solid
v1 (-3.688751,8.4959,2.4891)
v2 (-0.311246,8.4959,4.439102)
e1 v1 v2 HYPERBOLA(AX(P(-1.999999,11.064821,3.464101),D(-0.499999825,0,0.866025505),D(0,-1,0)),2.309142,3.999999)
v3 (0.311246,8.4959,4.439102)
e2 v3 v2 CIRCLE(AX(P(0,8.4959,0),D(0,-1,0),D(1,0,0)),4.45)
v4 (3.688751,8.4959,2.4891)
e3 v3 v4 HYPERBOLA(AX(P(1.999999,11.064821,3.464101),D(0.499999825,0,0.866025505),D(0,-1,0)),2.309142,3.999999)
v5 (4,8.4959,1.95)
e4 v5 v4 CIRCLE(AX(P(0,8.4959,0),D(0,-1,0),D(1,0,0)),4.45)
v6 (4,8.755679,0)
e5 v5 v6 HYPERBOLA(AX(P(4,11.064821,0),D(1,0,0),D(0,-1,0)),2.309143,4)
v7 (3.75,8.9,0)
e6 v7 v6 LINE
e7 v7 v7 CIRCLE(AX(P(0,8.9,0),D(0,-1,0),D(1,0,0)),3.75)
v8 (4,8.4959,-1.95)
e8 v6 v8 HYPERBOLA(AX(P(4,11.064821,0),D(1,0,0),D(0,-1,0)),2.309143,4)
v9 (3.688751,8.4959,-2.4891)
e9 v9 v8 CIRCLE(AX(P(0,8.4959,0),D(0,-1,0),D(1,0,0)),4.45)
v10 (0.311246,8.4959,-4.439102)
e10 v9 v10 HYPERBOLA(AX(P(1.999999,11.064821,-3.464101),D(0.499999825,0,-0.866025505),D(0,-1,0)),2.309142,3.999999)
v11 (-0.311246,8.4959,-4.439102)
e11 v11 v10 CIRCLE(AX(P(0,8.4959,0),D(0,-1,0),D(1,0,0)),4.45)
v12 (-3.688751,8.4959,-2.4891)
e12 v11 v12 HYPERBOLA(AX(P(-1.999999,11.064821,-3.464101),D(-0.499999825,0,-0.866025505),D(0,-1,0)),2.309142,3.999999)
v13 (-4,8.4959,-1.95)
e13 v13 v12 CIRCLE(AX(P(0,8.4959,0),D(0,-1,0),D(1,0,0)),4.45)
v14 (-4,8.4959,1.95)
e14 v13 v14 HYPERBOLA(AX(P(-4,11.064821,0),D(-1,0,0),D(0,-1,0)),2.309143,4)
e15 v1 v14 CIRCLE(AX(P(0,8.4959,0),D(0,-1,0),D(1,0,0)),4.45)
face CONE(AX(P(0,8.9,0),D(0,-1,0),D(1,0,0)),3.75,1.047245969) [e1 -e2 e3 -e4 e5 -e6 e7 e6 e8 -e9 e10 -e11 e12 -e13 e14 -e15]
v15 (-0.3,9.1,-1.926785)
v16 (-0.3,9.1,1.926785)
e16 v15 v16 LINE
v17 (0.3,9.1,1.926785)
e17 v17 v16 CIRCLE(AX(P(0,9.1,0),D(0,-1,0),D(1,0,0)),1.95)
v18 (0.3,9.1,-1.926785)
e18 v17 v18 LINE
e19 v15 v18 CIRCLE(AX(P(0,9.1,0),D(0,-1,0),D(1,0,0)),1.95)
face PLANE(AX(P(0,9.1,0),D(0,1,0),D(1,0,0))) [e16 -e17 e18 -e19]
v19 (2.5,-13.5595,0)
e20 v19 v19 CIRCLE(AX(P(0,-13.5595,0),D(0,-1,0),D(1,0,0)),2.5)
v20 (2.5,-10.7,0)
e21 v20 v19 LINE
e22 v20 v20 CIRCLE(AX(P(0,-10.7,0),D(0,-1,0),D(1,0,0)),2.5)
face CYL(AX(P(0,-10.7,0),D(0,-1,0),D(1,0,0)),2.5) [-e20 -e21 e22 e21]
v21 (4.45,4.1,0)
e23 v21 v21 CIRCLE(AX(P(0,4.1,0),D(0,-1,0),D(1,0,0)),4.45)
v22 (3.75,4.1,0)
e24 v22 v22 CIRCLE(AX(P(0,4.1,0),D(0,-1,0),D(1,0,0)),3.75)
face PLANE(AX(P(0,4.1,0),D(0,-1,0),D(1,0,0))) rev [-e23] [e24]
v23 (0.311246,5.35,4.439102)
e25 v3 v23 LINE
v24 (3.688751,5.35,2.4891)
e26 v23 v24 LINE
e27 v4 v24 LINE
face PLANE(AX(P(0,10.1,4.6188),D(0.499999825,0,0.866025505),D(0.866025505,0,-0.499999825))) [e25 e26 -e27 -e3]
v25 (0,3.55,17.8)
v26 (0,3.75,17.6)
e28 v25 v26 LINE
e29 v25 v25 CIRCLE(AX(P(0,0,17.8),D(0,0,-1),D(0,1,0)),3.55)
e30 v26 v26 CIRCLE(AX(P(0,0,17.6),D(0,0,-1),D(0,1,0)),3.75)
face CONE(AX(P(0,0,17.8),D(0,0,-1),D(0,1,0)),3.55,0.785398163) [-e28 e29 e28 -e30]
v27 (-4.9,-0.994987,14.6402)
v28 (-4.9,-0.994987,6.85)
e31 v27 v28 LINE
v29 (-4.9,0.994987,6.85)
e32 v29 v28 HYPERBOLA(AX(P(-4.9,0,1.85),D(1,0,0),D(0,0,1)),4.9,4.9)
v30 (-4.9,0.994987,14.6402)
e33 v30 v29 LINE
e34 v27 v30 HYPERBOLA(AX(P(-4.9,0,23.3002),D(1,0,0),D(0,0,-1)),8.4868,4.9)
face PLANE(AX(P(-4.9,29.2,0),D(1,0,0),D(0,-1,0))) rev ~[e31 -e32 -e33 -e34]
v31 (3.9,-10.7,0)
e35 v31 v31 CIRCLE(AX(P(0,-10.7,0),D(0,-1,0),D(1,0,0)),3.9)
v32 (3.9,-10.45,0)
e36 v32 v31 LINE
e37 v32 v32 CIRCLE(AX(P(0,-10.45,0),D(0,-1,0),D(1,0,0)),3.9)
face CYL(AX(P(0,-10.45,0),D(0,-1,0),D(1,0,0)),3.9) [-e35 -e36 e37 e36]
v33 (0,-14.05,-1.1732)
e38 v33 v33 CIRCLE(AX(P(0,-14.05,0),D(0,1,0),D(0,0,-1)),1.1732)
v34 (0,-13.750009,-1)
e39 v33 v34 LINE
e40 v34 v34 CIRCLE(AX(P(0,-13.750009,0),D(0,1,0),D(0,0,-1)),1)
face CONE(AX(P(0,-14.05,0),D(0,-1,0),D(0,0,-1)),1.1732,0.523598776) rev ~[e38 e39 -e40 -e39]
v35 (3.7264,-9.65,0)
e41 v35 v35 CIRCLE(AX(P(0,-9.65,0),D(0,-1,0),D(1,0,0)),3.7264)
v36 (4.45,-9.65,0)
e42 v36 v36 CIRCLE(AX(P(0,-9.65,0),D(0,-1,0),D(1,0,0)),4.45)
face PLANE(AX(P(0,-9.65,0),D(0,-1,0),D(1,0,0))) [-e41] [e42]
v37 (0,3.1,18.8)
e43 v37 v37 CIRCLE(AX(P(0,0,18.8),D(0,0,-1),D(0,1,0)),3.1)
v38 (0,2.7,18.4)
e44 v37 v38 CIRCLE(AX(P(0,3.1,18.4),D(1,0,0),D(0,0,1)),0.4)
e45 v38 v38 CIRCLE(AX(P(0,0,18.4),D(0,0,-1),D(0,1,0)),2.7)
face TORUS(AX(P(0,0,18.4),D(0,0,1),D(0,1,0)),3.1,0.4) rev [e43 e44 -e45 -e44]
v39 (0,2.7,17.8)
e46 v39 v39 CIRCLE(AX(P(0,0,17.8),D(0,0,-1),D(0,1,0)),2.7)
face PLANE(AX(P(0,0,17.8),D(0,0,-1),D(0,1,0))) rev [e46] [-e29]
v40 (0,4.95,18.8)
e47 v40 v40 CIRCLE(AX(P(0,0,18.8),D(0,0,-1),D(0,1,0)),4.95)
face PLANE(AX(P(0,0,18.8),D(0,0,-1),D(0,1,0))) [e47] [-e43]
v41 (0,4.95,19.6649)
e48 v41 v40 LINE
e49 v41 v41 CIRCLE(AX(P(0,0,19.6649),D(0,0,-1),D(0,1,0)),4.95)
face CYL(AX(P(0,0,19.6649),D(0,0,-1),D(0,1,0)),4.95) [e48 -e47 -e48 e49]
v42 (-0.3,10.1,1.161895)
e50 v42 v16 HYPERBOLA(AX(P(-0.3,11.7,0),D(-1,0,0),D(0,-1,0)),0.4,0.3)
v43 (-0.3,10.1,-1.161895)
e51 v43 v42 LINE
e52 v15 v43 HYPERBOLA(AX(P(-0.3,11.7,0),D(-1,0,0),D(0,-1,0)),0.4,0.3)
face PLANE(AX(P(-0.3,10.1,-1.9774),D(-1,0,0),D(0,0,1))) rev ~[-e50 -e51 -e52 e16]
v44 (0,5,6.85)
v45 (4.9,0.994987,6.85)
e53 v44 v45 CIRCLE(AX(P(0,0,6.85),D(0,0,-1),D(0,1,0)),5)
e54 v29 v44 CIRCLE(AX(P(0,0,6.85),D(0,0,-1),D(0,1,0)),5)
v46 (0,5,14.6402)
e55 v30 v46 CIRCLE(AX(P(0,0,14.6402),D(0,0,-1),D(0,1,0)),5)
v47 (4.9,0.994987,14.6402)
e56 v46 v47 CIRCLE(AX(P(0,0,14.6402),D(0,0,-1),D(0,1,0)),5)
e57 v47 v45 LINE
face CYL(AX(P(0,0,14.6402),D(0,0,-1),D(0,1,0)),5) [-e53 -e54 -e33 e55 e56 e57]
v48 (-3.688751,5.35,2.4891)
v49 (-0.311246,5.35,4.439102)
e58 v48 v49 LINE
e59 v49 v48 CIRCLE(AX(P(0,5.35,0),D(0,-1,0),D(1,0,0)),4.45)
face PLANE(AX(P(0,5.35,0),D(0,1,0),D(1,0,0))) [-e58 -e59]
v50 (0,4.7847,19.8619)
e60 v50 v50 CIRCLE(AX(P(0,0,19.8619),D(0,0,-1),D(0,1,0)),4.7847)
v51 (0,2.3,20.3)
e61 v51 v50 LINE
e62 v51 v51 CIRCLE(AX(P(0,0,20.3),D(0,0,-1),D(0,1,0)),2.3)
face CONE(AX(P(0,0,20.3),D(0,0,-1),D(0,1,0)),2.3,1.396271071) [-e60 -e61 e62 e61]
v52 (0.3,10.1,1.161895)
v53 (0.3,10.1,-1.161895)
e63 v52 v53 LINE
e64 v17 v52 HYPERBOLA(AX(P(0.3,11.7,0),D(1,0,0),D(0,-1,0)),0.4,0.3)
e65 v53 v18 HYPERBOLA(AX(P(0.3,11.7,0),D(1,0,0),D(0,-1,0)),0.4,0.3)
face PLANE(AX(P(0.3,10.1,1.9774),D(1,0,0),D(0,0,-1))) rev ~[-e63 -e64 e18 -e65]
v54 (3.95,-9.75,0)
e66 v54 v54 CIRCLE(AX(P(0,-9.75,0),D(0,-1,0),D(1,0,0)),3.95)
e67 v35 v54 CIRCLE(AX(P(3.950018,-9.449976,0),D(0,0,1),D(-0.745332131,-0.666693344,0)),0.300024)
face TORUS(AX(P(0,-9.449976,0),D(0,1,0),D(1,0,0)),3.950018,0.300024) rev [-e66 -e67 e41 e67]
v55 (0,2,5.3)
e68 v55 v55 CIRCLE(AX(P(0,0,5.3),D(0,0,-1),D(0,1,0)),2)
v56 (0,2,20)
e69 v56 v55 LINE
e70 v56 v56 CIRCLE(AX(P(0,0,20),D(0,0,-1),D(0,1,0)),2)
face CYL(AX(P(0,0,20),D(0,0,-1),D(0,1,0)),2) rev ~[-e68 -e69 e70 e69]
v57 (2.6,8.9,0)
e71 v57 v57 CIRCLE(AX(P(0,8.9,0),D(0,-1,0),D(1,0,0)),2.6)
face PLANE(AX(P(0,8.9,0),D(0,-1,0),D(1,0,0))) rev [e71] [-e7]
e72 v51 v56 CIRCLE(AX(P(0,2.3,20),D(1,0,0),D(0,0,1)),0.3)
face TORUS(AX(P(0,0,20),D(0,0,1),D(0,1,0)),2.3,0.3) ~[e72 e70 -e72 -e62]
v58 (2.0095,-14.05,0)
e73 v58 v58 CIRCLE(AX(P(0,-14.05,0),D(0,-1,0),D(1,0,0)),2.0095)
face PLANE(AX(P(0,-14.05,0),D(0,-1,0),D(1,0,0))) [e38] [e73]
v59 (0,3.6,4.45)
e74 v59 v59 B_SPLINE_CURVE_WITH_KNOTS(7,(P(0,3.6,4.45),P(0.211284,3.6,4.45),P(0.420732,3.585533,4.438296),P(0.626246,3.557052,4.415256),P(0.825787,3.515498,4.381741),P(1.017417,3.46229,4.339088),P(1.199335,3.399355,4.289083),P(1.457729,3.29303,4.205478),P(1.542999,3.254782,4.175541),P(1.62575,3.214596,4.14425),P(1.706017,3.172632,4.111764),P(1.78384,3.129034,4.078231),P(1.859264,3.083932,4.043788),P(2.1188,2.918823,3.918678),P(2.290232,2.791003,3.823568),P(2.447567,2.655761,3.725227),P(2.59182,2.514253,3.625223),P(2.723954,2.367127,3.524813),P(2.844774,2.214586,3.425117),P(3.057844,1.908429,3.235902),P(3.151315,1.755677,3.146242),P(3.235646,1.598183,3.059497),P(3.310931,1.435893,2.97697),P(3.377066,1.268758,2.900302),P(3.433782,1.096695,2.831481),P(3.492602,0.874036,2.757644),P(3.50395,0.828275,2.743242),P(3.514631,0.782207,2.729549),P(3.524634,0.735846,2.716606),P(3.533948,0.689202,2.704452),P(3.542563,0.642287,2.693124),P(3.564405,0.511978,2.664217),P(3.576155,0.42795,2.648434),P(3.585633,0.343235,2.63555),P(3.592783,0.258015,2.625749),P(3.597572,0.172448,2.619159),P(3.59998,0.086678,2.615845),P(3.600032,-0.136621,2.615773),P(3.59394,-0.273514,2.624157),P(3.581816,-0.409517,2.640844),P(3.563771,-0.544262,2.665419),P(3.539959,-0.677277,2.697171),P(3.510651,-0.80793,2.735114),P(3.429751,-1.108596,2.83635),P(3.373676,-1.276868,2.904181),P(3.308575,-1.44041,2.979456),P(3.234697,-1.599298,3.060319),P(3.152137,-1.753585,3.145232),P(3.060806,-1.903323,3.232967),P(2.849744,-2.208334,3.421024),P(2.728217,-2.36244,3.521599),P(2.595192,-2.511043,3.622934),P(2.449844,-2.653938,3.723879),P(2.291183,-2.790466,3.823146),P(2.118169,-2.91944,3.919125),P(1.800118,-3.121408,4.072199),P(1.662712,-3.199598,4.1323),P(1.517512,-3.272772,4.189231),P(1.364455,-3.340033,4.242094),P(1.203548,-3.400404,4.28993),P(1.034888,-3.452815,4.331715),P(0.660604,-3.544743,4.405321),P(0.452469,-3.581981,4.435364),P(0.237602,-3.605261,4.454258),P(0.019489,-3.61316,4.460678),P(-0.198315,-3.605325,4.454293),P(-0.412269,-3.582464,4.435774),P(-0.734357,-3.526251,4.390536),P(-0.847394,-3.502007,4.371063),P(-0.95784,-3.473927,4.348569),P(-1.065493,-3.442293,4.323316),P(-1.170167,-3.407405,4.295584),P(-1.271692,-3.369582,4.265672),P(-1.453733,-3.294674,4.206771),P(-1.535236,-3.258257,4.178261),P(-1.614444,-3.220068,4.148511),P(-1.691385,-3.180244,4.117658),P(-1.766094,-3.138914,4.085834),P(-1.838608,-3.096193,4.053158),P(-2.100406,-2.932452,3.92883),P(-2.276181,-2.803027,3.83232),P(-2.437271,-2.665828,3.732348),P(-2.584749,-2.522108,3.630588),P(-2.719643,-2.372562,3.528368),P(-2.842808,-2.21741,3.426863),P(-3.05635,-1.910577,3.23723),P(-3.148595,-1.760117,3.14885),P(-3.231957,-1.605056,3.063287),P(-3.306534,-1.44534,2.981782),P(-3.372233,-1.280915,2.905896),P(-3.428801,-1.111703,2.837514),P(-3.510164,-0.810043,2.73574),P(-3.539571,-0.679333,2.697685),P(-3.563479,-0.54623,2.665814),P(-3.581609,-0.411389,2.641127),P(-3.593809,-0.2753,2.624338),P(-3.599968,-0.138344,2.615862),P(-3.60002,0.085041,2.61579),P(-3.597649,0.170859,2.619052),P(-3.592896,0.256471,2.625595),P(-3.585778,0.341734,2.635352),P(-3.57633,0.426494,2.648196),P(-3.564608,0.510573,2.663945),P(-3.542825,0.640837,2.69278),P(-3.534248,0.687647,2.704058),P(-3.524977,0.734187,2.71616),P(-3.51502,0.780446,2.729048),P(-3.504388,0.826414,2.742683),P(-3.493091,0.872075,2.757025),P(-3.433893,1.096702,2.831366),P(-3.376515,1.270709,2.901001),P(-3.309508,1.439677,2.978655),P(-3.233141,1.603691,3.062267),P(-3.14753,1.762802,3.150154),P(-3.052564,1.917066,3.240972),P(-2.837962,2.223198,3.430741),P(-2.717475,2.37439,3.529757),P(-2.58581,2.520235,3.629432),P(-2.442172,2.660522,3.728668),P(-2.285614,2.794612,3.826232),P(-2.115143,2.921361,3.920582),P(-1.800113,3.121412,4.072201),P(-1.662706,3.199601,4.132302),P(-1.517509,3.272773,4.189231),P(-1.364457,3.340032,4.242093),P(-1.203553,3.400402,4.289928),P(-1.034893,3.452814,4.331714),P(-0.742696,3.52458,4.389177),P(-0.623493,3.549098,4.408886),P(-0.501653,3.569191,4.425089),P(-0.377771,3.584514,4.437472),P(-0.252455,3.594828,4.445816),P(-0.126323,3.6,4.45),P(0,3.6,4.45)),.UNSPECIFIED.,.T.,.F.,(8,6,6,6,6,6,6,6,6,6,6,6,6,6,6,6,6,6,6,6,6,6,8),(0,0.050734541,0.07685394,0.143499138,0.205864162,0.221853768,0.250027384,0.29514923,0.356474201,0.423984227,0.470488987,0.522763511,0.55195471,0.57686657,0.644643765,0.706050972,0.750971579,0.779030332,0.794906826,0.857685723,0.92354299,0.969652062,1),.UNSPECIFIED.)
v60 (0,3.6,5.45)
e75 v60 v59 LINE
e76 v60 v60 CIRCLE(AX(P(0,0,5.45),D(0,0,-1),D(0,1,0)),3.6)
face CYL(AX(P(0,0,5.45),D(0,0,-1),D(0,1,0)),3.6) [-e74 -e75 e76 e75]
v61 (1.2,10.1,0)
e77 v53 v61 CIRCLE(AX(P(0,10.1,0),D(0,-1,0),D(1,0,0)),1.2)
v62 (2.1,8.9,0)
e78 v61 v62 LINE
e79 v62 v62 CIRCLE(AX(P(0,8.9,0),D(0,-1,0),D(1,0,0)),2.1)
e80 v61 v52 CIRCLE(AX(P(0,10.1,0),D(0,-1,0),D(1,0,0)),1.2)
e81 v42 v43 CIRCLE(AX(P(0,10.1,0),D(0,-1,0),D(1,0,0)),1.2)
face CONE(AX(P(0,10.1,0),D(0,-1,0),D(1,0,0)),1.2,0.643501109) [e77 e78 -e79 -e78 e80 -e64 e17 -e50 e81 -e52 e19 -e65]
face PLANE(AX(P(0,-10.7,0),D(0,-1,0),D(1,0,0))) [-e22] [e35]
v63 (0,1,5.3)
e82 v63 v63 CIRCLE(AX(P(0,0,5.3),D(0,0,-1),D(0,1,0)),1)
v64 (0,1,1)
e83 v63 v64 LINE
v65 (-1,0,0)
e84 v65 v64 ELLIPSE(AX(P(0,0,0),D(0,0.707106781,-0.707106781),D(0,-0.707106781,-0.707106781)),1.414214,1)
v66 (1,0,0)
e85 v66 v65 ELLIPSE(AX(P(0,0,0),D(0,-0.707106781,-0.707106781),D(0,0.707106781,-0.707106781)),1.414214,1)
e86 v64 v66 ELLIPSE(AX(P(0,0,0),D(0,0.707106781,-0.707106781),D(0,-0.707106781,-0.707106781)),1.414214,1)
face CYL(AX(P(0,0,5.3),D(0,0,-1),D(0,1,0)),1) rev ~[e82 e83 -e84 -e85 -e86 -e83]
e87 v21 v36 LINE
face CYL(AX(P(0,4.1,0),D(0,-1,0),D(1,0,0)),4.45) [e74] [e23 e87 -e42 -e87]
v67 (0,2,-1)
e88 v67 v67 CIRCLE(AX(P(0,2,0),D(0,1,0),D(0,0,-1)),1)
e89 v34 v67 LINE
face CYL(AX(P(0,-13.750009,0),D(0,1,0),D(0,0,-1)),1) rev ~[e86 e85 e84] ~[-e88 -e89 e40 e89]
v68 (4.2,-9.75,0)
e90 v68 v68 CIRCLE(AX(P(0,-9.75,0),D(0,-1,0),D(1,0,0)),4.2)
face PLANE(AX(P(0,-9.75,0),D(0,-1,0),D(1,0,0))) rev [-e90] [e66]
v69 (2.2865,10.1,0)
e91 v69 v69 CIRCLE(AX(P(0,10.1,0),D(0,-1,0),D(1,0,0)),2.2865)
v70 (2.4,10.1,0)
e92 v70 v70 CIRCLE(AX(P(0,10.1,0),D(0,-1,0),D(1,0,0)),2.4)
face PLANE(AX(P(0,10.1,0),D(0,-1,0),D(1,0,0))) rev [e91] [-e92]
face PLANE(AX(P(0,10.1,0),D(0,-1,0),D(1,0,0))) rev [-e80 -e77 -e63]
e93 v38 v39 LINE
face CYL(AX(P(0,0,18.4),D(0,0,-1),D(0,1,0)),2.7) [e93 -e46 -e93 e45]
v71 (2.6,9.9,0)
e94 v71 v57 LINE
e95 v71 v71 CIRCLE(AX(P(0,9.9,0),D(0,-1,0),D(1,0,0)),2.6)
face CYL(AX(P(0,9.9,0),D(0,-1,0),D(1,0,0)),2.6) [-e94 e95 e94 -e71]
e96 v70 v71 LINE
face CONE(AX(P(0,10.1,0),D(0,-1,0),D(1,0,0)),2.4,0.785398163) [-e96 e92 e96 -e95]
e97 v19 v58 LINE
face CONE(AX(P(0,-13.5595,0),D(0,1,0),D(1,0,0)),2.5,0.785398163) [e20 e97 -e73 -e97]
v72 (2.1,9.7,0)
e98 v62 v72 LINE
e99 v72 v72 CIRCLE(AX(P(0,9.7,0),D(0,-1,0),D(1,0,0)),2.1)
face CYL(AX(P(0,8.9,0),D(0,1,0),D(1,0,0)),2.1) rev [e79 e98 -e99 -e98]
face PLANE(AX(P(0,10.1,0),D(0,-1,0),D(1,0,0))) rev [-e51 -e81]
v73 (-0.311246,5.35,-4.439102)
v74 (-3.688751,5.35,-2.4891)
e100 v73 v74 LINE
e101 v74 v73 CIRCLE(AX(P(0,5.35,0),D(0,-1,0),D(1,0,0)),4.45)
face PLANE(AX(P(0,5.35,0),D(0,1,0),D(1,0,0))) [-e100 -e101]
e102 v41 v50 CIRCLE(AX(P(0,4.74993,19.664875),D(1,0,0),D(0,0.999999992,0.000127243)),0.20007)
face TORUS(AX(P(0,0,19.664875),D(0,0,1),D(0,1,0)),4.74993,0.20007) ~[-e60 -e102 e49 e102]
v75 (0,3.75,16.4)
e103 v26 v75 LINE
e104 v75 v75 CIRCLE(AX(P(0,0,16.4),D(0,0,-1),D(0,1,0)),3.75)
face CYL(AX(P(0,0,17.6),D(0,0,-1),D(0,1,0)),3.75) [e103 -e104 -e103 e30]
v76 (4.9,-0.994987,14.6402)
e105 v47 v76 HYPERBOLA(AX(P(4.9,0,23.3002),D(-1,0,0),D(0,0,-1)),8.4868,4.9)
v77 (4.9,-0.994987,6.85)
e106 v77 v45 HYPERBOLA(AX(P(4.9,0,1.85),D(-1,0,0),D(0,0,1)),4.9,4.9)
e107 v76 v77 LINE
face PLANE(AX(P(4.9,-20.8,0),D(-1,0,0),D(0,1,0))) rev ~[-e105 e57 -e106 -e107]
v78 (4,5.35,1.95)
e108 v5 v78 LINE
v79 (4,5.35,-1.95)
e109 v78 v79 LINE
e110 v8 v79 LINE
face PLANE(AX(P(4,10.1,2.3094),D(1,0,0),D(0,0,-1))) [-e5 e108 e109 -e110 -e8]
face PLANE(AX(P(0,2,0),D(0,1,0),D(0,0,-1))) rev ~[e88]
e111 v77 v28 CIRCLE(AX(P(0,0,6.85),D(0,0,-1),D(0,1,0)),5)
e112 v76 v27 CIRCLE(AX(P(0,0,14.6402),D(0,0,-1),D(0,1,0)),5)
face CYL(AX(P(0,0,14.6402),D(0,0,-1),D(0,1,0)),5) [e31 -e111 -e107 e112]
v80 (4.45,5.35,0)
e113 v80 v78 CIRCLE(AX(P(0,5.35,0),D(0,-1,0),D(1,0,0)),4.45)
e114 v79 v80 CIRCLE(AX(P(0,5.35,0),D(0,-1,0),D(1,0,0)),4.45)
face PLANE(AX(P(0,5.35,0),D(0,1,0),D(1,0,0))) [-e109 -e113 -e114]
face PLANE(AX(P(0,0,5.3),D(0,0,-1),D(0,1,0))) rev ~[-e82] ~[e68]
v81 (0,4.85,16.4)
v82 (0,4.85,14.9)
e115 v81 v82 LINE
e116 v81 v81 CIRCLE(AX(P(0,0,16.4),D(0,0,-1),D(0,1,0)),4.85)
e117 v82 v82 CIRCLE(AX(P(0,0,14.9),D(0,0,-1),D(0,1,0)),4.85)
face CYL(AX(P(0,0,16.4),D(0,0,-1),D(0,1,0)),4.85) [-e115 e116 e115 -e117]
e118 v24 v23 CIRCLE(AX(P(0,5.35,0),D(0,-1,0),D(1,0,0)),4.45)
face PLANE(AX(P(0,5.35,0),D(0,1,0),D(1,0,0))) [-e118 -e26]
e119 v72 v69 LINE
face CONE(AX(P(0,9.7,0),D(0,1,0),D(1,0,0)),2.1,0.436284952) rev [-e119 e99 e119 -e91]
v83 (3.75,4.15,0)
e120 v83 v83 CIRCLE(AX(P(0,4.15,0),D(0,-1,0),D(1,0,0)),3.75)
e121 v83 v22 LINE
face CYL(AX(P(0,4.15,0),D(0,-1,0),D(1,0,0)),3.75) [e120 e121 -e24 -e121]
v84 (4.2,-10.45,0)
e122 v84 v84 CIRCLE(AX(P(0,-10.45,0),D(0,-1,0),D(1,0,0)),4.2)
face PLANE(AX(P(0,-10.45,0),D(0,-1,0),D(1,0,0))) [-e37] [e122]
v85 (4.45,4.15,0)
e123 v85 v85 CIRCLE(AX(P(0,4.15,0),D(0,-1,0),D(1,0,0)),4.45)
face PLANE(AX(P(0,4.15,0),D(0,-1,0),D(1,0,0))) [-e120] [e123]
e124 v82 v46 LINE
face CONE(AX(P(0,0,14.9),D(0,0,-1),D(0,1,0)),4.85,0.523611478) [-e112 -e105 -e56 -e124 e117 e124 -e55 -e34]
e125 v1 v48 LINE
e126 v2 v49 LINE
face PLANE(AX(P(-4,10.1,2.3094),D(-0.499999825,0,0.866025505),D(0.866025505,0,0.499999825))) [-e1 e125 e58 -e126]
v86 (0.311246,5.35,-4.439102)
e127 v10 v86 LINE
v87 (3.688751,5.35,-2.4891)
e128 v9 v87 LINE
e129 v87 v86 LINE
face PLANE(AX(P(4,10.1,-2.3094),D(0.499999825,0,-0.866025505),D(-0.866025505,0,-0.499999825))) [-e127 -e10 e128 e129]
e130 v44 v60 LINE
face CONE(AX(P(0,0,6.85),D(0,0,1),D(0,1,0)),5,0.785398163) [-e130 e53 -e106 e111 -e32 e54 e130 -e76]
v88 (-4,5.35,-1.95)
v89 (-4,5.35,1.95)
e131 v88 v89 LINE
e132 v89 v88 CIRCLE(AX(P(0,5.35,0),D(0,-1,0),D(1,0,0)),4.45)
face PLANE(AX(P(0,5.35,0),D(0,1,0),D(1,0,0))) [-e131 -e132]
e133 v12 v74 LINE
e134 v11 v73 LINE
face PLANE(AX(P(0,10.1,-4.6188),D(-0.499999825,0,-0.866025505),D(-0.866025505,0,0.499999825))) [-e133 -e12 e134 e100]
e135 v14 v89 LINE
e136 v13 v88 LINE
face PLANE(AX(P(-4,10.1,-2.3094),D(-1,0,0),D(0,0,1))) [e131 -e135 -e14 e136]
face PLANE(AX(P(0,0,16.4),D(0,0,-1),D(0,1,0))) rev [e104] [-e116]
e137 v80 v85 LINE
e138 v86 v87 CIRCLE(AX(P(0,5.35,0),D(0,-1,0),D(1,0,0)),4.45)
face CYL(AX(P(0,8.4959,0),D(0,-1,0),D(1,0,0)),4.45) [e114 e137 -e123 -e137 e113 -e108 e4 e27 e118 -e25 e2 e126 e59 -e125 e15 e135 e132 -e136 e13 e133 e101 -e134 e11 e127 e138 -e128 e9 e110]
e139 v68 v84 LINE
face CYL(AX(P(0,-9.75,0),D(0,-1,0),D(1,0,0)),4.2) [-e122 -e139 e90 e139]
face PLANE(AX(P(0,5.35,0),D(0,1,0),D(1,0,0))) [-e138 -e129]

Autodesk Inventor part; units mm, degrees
sketch "Sketch_6" plane through (0, 0, 0) normal (0, 0, 1) x (1, 0, 0)
  line L0 (0, -14.05) -> (0, 10.1)
  line L1 (0, 10.1) -> (1.2, 10.1)
  line L2 (1.2, 10.1) -> (2.1, 8.9)
  line L3 (2.1, 8.9) -> (2.1, 9.7)
  line L4 (2.1, 9.7) -> (2.2865, 10.1)
  line L5 (2.2865, 10.1) -> (2.4, 10.1)
  line L6 (2.4, 10.1) -> (2.6, 9.9)
  line L7 (2.6, 9.9) -> (2.6, 8.9)
  line L8 (2.6, 8.9) -> (3.75, 8.9)
  line L9 (3.75, 8.9) -> (4.45, 8.4959)
  line L10 (4.45, 8.4959) -> (4.45, 4.15)
  line L11 (4.45, 4.15) -> (3.75, 4.15)
  line L12 (3.75, 4.15) -> (3.75, 4.1)
  line L13 (3.75, 4.1) -> (4.45, 4.1)
  line L14 (4.45, 4.1) -> (4.45, -9.65)
  line L15 (4.45, -9.65) -> (3.7264, -9.65)
  arc A0 (3.7264, -9.65) -> (3.95, -9.75) centre (3.95, -9.45) ccw
  line L16 (3.95, -9.75) -> (4.2, -9.75)
  line L17 (4.2, -9.75) -> (4.2, -10.45)
  line L18 (4.2, -10.45) -> (3.9, -10.45)
  line L19 (3.9, -10.45) -> (3.9, -10.7)
  line L20 (3.9, -10.7) -> (2.5, -10.7)
  line L21 (2.5, -10.7) -> (2.5, -13.5595)
  line L22 (2.5, -13.5595) -> (2.0095, -14.05)
  line L23 (2.0095, -14.05) -> (0, -14.05)
  line L24 (0, -14.05) -> (0, 10.1)
revolve "Revolution1" add sketch "Sketch_6" angle 360 about axis through (0, -14.05, 0) along (0, -1, 0)
thread "Thread1" size "M5x0.8" class "6g" standard "ISO Metric profile" full length
sketch "Sketch_8" plane through (0, 10.1, 0) normal (0, 1, 0) x (1, 0, 0)
  line L0 (-0.3, 1.9774) -> (-0.3, -1.9774)
  arc A0 (-0.3, -1.9774) -> (0.3, -1.9774) centre (0, 0) ccw
  line L1 (0.3, -1.9774) -> (0.3, 1.9774)
  arc A1 (0.3, 1.9774) -> (-0.3, 1.9774) centre (0, 0) ccw
extrude "Extrusion1" cut sketch "Sketch_8" against normal blind 1
sketch "Sketch_15" plane through (0, 10.1, 0) normal (0, 1, 0) x (1, 0, 0)
  line L0 (-8, -4.6188) -> (0, -9.2376)
  line L1 (0, -9.2376) -> (8, -4.6188)
  line L2 (8, -4.6188) -> (8, 4.6188)
  line L3 (8, 4.6188) -> (0, 9.2376)
  line L4 (0, 9.2376) -> (-8, 4.6188)
  line L5 (-8, 4.6188) -> (-8, -4.6188)
  line L6 (-4, -2.3094) -> (0, -4.6188)
  line L7 (0, -4.6188) -> (4, -2.3094)
  line L8 (4, -2.3094) -> (4, 2.3094)
  line L9 (4, 2.3094) -> (0, 4.6188)
  line L10 (0, 4.6188) -> (-4, 2.3094)
  line L11 (-4, 2.3094) -> (-4, -2.3094)
extrude "Extrusion2" cut sketch "Sketch_15" against normal blind 4.75
sketch "Sketch_11" plane through (0, 0, 0) normal (1, 0, 0) x (0, 1, 0)
  line L0 (0, 0) -> (0, 20.3)
  line L1 (0, 20.3) -> (2.3, 20.3)
  line L2 (2.3, 20.3) -> (4.7847, 19.8619)
  arc A0 (4.95, 19.6649) -> (4.7847, 19.8619) centre (4.75, 19.6649) ccw
  line L3 (4.95, 19.6649) -> (4.95, 18.8)
  line L4 (4.95, 18.8) -> (3.1, 18.8)
  arc A1 (3.1, 18.8) -> (2.7, 18.4) centre (3.1, 18.4) ccw
  line L5 (2.7, 18.4) -> (2.7, 17.8)
  line L6 (2.7, 17.8) -> (3.55, 17.8)
  line L7 (3.55, 17.8) -> (3.75, 17.6)
  line L8 (3.75, 17.6) -> (3.75, 16.4)
  line L9 (3.75, 16.4) -> (4.85, 16.4)
  line L10 (4.85, 16.4) -> (4.85, 14.9)
  line L11 (4.85, 14.9) -> (5, 14.6402)
  line L12 (5, 14.6402) -> (5, 6.85)
  line L13 (5, 6.85) -> (3.6, 5.45)
  line L14 (3.6, 5.45) -> (3.6, 0)
  line L15 (3.6, 0) -> (0, 0)
  line L16 (0, 0) -> (0, 20.3)
revolve "Revolution2" add sketch "Sketch_11" angle 360 about axis through (0, 0, 0) along (0, 0, -1)
sketch "Sketch_10" plane through (0, 0, 0) normal (0, 0, 1) x (1, 0, 0)
  line L0 (-9.8, 34.2) -> (-9.8, -25.8)
  line L1 (-9.8, -25.8) -> (9.8, -25.8)
  line L2 (9.8, -25.8) -> (9.8, 34.2)
  line L3 (9.8, 34.2) -> (-9.8, 34.2)
  line L4 (-4.9, 29.2) -> (-4.9, -20.8)
  line L5 (-4.9, -20.8) -> (4.9, -20.8)
  line L6 (4.9, -20.8) -> (4.9, 29.2)
  line L7 (4.9, 29.2) -> (-4.9, 29.2)
extrude "Extrusion3" cut sketch "Sketch_10" along normal blind 18.3
sketch "Sketch_5" plane through (0, 0, 0) normal (1, 0, 0) x (0, 1, 0)
  line L0 (0, 0) -> (0, 20.3)
  line L1 (0, 20.3) -> (2.3, 20.3)
  arc A0 (2.3, 20.3) -> (2, 20) centre (2.3, 20) ccw
  line L2 (2, 20) -> (2, 5.3)
  line L3 (2, 5.3) -> (1, 5.3)
  line L4 (1, 5.3) -> (1, 0)
  line L5 (1, 0) -> (0, 0)
  line L6 (0, 0) -> (0, 20.3)
revolve "Revolution3" cut sketch "Sketch_5" angle 360 about axis through (0, 0, 0) along (0, 0, -1)
sketch "Sketch7" plane through (0, -14.05, 0) normal (0, -1, 0) x (1, 0, 0)
  point P0 (0, 0)
hole "Hole1" at (0, -14.05, 0) direction (0, 1, 0) diameter 2 depth 16.05 countersink diameter 2.3464 countersink angle 60
ref_plane "FDT_MOUNT_XY" through (0, -10.7, 0) normal (0, 1, 0) x (-1, 0, 0)
ref_plane "FDT_MOUNT_YZ" through (0, -10.7, 0) normal (-1, 0, 0) x (0, 0, 1)
ref_plane "FDT_MOUNT_ZX" through (0, -10.7, 0) normal (0, 0, 1) x (0, 1, 0)
ref_plane "FDT_SCHLAUCH_XY" through (0, 0, 5.3) normal (0, 0, 1) x (1, 0, 0)
ref_plane "FDT_SCHLAUCH_YZ" through (0, 0, 5.3) normal (1, 0, 0) x (0, 1, 0)
ref_plane "FDT_SCHLAUCH_ZX" through (0, 0, 5.3) normal (0, 1, 0) x (0, 0, 1)
ref_plane "Zylinder_XY" through (0, -14.05, 0) normal (0, 1, 0) x (1, 0, 0)
ref_plane "Zylinder_YZ" through (0, -14.05, 0) normal (1, 0, 0) x (0, 0, -1)
ref_plane "Zylinder_ZX" through (0, -14.05, 0) normal (0, 0, -1) x (0, 1, 0)
ref_plane "anbau_XY" through (0, -10.7, 0) normal (0, 1, 0) x (1, 0, 0)
ref_plane "anbau_YZ" through (0, -10.7, 0) normal (1, 0, 0) x (0, 0, -1)
ref_plane "anbau_ZX" through (0, -10.7, 0) normal (0, 0, -1) x (0, 1, 0)
properties part number "193138 GRLA-M5-QS-4-D"
